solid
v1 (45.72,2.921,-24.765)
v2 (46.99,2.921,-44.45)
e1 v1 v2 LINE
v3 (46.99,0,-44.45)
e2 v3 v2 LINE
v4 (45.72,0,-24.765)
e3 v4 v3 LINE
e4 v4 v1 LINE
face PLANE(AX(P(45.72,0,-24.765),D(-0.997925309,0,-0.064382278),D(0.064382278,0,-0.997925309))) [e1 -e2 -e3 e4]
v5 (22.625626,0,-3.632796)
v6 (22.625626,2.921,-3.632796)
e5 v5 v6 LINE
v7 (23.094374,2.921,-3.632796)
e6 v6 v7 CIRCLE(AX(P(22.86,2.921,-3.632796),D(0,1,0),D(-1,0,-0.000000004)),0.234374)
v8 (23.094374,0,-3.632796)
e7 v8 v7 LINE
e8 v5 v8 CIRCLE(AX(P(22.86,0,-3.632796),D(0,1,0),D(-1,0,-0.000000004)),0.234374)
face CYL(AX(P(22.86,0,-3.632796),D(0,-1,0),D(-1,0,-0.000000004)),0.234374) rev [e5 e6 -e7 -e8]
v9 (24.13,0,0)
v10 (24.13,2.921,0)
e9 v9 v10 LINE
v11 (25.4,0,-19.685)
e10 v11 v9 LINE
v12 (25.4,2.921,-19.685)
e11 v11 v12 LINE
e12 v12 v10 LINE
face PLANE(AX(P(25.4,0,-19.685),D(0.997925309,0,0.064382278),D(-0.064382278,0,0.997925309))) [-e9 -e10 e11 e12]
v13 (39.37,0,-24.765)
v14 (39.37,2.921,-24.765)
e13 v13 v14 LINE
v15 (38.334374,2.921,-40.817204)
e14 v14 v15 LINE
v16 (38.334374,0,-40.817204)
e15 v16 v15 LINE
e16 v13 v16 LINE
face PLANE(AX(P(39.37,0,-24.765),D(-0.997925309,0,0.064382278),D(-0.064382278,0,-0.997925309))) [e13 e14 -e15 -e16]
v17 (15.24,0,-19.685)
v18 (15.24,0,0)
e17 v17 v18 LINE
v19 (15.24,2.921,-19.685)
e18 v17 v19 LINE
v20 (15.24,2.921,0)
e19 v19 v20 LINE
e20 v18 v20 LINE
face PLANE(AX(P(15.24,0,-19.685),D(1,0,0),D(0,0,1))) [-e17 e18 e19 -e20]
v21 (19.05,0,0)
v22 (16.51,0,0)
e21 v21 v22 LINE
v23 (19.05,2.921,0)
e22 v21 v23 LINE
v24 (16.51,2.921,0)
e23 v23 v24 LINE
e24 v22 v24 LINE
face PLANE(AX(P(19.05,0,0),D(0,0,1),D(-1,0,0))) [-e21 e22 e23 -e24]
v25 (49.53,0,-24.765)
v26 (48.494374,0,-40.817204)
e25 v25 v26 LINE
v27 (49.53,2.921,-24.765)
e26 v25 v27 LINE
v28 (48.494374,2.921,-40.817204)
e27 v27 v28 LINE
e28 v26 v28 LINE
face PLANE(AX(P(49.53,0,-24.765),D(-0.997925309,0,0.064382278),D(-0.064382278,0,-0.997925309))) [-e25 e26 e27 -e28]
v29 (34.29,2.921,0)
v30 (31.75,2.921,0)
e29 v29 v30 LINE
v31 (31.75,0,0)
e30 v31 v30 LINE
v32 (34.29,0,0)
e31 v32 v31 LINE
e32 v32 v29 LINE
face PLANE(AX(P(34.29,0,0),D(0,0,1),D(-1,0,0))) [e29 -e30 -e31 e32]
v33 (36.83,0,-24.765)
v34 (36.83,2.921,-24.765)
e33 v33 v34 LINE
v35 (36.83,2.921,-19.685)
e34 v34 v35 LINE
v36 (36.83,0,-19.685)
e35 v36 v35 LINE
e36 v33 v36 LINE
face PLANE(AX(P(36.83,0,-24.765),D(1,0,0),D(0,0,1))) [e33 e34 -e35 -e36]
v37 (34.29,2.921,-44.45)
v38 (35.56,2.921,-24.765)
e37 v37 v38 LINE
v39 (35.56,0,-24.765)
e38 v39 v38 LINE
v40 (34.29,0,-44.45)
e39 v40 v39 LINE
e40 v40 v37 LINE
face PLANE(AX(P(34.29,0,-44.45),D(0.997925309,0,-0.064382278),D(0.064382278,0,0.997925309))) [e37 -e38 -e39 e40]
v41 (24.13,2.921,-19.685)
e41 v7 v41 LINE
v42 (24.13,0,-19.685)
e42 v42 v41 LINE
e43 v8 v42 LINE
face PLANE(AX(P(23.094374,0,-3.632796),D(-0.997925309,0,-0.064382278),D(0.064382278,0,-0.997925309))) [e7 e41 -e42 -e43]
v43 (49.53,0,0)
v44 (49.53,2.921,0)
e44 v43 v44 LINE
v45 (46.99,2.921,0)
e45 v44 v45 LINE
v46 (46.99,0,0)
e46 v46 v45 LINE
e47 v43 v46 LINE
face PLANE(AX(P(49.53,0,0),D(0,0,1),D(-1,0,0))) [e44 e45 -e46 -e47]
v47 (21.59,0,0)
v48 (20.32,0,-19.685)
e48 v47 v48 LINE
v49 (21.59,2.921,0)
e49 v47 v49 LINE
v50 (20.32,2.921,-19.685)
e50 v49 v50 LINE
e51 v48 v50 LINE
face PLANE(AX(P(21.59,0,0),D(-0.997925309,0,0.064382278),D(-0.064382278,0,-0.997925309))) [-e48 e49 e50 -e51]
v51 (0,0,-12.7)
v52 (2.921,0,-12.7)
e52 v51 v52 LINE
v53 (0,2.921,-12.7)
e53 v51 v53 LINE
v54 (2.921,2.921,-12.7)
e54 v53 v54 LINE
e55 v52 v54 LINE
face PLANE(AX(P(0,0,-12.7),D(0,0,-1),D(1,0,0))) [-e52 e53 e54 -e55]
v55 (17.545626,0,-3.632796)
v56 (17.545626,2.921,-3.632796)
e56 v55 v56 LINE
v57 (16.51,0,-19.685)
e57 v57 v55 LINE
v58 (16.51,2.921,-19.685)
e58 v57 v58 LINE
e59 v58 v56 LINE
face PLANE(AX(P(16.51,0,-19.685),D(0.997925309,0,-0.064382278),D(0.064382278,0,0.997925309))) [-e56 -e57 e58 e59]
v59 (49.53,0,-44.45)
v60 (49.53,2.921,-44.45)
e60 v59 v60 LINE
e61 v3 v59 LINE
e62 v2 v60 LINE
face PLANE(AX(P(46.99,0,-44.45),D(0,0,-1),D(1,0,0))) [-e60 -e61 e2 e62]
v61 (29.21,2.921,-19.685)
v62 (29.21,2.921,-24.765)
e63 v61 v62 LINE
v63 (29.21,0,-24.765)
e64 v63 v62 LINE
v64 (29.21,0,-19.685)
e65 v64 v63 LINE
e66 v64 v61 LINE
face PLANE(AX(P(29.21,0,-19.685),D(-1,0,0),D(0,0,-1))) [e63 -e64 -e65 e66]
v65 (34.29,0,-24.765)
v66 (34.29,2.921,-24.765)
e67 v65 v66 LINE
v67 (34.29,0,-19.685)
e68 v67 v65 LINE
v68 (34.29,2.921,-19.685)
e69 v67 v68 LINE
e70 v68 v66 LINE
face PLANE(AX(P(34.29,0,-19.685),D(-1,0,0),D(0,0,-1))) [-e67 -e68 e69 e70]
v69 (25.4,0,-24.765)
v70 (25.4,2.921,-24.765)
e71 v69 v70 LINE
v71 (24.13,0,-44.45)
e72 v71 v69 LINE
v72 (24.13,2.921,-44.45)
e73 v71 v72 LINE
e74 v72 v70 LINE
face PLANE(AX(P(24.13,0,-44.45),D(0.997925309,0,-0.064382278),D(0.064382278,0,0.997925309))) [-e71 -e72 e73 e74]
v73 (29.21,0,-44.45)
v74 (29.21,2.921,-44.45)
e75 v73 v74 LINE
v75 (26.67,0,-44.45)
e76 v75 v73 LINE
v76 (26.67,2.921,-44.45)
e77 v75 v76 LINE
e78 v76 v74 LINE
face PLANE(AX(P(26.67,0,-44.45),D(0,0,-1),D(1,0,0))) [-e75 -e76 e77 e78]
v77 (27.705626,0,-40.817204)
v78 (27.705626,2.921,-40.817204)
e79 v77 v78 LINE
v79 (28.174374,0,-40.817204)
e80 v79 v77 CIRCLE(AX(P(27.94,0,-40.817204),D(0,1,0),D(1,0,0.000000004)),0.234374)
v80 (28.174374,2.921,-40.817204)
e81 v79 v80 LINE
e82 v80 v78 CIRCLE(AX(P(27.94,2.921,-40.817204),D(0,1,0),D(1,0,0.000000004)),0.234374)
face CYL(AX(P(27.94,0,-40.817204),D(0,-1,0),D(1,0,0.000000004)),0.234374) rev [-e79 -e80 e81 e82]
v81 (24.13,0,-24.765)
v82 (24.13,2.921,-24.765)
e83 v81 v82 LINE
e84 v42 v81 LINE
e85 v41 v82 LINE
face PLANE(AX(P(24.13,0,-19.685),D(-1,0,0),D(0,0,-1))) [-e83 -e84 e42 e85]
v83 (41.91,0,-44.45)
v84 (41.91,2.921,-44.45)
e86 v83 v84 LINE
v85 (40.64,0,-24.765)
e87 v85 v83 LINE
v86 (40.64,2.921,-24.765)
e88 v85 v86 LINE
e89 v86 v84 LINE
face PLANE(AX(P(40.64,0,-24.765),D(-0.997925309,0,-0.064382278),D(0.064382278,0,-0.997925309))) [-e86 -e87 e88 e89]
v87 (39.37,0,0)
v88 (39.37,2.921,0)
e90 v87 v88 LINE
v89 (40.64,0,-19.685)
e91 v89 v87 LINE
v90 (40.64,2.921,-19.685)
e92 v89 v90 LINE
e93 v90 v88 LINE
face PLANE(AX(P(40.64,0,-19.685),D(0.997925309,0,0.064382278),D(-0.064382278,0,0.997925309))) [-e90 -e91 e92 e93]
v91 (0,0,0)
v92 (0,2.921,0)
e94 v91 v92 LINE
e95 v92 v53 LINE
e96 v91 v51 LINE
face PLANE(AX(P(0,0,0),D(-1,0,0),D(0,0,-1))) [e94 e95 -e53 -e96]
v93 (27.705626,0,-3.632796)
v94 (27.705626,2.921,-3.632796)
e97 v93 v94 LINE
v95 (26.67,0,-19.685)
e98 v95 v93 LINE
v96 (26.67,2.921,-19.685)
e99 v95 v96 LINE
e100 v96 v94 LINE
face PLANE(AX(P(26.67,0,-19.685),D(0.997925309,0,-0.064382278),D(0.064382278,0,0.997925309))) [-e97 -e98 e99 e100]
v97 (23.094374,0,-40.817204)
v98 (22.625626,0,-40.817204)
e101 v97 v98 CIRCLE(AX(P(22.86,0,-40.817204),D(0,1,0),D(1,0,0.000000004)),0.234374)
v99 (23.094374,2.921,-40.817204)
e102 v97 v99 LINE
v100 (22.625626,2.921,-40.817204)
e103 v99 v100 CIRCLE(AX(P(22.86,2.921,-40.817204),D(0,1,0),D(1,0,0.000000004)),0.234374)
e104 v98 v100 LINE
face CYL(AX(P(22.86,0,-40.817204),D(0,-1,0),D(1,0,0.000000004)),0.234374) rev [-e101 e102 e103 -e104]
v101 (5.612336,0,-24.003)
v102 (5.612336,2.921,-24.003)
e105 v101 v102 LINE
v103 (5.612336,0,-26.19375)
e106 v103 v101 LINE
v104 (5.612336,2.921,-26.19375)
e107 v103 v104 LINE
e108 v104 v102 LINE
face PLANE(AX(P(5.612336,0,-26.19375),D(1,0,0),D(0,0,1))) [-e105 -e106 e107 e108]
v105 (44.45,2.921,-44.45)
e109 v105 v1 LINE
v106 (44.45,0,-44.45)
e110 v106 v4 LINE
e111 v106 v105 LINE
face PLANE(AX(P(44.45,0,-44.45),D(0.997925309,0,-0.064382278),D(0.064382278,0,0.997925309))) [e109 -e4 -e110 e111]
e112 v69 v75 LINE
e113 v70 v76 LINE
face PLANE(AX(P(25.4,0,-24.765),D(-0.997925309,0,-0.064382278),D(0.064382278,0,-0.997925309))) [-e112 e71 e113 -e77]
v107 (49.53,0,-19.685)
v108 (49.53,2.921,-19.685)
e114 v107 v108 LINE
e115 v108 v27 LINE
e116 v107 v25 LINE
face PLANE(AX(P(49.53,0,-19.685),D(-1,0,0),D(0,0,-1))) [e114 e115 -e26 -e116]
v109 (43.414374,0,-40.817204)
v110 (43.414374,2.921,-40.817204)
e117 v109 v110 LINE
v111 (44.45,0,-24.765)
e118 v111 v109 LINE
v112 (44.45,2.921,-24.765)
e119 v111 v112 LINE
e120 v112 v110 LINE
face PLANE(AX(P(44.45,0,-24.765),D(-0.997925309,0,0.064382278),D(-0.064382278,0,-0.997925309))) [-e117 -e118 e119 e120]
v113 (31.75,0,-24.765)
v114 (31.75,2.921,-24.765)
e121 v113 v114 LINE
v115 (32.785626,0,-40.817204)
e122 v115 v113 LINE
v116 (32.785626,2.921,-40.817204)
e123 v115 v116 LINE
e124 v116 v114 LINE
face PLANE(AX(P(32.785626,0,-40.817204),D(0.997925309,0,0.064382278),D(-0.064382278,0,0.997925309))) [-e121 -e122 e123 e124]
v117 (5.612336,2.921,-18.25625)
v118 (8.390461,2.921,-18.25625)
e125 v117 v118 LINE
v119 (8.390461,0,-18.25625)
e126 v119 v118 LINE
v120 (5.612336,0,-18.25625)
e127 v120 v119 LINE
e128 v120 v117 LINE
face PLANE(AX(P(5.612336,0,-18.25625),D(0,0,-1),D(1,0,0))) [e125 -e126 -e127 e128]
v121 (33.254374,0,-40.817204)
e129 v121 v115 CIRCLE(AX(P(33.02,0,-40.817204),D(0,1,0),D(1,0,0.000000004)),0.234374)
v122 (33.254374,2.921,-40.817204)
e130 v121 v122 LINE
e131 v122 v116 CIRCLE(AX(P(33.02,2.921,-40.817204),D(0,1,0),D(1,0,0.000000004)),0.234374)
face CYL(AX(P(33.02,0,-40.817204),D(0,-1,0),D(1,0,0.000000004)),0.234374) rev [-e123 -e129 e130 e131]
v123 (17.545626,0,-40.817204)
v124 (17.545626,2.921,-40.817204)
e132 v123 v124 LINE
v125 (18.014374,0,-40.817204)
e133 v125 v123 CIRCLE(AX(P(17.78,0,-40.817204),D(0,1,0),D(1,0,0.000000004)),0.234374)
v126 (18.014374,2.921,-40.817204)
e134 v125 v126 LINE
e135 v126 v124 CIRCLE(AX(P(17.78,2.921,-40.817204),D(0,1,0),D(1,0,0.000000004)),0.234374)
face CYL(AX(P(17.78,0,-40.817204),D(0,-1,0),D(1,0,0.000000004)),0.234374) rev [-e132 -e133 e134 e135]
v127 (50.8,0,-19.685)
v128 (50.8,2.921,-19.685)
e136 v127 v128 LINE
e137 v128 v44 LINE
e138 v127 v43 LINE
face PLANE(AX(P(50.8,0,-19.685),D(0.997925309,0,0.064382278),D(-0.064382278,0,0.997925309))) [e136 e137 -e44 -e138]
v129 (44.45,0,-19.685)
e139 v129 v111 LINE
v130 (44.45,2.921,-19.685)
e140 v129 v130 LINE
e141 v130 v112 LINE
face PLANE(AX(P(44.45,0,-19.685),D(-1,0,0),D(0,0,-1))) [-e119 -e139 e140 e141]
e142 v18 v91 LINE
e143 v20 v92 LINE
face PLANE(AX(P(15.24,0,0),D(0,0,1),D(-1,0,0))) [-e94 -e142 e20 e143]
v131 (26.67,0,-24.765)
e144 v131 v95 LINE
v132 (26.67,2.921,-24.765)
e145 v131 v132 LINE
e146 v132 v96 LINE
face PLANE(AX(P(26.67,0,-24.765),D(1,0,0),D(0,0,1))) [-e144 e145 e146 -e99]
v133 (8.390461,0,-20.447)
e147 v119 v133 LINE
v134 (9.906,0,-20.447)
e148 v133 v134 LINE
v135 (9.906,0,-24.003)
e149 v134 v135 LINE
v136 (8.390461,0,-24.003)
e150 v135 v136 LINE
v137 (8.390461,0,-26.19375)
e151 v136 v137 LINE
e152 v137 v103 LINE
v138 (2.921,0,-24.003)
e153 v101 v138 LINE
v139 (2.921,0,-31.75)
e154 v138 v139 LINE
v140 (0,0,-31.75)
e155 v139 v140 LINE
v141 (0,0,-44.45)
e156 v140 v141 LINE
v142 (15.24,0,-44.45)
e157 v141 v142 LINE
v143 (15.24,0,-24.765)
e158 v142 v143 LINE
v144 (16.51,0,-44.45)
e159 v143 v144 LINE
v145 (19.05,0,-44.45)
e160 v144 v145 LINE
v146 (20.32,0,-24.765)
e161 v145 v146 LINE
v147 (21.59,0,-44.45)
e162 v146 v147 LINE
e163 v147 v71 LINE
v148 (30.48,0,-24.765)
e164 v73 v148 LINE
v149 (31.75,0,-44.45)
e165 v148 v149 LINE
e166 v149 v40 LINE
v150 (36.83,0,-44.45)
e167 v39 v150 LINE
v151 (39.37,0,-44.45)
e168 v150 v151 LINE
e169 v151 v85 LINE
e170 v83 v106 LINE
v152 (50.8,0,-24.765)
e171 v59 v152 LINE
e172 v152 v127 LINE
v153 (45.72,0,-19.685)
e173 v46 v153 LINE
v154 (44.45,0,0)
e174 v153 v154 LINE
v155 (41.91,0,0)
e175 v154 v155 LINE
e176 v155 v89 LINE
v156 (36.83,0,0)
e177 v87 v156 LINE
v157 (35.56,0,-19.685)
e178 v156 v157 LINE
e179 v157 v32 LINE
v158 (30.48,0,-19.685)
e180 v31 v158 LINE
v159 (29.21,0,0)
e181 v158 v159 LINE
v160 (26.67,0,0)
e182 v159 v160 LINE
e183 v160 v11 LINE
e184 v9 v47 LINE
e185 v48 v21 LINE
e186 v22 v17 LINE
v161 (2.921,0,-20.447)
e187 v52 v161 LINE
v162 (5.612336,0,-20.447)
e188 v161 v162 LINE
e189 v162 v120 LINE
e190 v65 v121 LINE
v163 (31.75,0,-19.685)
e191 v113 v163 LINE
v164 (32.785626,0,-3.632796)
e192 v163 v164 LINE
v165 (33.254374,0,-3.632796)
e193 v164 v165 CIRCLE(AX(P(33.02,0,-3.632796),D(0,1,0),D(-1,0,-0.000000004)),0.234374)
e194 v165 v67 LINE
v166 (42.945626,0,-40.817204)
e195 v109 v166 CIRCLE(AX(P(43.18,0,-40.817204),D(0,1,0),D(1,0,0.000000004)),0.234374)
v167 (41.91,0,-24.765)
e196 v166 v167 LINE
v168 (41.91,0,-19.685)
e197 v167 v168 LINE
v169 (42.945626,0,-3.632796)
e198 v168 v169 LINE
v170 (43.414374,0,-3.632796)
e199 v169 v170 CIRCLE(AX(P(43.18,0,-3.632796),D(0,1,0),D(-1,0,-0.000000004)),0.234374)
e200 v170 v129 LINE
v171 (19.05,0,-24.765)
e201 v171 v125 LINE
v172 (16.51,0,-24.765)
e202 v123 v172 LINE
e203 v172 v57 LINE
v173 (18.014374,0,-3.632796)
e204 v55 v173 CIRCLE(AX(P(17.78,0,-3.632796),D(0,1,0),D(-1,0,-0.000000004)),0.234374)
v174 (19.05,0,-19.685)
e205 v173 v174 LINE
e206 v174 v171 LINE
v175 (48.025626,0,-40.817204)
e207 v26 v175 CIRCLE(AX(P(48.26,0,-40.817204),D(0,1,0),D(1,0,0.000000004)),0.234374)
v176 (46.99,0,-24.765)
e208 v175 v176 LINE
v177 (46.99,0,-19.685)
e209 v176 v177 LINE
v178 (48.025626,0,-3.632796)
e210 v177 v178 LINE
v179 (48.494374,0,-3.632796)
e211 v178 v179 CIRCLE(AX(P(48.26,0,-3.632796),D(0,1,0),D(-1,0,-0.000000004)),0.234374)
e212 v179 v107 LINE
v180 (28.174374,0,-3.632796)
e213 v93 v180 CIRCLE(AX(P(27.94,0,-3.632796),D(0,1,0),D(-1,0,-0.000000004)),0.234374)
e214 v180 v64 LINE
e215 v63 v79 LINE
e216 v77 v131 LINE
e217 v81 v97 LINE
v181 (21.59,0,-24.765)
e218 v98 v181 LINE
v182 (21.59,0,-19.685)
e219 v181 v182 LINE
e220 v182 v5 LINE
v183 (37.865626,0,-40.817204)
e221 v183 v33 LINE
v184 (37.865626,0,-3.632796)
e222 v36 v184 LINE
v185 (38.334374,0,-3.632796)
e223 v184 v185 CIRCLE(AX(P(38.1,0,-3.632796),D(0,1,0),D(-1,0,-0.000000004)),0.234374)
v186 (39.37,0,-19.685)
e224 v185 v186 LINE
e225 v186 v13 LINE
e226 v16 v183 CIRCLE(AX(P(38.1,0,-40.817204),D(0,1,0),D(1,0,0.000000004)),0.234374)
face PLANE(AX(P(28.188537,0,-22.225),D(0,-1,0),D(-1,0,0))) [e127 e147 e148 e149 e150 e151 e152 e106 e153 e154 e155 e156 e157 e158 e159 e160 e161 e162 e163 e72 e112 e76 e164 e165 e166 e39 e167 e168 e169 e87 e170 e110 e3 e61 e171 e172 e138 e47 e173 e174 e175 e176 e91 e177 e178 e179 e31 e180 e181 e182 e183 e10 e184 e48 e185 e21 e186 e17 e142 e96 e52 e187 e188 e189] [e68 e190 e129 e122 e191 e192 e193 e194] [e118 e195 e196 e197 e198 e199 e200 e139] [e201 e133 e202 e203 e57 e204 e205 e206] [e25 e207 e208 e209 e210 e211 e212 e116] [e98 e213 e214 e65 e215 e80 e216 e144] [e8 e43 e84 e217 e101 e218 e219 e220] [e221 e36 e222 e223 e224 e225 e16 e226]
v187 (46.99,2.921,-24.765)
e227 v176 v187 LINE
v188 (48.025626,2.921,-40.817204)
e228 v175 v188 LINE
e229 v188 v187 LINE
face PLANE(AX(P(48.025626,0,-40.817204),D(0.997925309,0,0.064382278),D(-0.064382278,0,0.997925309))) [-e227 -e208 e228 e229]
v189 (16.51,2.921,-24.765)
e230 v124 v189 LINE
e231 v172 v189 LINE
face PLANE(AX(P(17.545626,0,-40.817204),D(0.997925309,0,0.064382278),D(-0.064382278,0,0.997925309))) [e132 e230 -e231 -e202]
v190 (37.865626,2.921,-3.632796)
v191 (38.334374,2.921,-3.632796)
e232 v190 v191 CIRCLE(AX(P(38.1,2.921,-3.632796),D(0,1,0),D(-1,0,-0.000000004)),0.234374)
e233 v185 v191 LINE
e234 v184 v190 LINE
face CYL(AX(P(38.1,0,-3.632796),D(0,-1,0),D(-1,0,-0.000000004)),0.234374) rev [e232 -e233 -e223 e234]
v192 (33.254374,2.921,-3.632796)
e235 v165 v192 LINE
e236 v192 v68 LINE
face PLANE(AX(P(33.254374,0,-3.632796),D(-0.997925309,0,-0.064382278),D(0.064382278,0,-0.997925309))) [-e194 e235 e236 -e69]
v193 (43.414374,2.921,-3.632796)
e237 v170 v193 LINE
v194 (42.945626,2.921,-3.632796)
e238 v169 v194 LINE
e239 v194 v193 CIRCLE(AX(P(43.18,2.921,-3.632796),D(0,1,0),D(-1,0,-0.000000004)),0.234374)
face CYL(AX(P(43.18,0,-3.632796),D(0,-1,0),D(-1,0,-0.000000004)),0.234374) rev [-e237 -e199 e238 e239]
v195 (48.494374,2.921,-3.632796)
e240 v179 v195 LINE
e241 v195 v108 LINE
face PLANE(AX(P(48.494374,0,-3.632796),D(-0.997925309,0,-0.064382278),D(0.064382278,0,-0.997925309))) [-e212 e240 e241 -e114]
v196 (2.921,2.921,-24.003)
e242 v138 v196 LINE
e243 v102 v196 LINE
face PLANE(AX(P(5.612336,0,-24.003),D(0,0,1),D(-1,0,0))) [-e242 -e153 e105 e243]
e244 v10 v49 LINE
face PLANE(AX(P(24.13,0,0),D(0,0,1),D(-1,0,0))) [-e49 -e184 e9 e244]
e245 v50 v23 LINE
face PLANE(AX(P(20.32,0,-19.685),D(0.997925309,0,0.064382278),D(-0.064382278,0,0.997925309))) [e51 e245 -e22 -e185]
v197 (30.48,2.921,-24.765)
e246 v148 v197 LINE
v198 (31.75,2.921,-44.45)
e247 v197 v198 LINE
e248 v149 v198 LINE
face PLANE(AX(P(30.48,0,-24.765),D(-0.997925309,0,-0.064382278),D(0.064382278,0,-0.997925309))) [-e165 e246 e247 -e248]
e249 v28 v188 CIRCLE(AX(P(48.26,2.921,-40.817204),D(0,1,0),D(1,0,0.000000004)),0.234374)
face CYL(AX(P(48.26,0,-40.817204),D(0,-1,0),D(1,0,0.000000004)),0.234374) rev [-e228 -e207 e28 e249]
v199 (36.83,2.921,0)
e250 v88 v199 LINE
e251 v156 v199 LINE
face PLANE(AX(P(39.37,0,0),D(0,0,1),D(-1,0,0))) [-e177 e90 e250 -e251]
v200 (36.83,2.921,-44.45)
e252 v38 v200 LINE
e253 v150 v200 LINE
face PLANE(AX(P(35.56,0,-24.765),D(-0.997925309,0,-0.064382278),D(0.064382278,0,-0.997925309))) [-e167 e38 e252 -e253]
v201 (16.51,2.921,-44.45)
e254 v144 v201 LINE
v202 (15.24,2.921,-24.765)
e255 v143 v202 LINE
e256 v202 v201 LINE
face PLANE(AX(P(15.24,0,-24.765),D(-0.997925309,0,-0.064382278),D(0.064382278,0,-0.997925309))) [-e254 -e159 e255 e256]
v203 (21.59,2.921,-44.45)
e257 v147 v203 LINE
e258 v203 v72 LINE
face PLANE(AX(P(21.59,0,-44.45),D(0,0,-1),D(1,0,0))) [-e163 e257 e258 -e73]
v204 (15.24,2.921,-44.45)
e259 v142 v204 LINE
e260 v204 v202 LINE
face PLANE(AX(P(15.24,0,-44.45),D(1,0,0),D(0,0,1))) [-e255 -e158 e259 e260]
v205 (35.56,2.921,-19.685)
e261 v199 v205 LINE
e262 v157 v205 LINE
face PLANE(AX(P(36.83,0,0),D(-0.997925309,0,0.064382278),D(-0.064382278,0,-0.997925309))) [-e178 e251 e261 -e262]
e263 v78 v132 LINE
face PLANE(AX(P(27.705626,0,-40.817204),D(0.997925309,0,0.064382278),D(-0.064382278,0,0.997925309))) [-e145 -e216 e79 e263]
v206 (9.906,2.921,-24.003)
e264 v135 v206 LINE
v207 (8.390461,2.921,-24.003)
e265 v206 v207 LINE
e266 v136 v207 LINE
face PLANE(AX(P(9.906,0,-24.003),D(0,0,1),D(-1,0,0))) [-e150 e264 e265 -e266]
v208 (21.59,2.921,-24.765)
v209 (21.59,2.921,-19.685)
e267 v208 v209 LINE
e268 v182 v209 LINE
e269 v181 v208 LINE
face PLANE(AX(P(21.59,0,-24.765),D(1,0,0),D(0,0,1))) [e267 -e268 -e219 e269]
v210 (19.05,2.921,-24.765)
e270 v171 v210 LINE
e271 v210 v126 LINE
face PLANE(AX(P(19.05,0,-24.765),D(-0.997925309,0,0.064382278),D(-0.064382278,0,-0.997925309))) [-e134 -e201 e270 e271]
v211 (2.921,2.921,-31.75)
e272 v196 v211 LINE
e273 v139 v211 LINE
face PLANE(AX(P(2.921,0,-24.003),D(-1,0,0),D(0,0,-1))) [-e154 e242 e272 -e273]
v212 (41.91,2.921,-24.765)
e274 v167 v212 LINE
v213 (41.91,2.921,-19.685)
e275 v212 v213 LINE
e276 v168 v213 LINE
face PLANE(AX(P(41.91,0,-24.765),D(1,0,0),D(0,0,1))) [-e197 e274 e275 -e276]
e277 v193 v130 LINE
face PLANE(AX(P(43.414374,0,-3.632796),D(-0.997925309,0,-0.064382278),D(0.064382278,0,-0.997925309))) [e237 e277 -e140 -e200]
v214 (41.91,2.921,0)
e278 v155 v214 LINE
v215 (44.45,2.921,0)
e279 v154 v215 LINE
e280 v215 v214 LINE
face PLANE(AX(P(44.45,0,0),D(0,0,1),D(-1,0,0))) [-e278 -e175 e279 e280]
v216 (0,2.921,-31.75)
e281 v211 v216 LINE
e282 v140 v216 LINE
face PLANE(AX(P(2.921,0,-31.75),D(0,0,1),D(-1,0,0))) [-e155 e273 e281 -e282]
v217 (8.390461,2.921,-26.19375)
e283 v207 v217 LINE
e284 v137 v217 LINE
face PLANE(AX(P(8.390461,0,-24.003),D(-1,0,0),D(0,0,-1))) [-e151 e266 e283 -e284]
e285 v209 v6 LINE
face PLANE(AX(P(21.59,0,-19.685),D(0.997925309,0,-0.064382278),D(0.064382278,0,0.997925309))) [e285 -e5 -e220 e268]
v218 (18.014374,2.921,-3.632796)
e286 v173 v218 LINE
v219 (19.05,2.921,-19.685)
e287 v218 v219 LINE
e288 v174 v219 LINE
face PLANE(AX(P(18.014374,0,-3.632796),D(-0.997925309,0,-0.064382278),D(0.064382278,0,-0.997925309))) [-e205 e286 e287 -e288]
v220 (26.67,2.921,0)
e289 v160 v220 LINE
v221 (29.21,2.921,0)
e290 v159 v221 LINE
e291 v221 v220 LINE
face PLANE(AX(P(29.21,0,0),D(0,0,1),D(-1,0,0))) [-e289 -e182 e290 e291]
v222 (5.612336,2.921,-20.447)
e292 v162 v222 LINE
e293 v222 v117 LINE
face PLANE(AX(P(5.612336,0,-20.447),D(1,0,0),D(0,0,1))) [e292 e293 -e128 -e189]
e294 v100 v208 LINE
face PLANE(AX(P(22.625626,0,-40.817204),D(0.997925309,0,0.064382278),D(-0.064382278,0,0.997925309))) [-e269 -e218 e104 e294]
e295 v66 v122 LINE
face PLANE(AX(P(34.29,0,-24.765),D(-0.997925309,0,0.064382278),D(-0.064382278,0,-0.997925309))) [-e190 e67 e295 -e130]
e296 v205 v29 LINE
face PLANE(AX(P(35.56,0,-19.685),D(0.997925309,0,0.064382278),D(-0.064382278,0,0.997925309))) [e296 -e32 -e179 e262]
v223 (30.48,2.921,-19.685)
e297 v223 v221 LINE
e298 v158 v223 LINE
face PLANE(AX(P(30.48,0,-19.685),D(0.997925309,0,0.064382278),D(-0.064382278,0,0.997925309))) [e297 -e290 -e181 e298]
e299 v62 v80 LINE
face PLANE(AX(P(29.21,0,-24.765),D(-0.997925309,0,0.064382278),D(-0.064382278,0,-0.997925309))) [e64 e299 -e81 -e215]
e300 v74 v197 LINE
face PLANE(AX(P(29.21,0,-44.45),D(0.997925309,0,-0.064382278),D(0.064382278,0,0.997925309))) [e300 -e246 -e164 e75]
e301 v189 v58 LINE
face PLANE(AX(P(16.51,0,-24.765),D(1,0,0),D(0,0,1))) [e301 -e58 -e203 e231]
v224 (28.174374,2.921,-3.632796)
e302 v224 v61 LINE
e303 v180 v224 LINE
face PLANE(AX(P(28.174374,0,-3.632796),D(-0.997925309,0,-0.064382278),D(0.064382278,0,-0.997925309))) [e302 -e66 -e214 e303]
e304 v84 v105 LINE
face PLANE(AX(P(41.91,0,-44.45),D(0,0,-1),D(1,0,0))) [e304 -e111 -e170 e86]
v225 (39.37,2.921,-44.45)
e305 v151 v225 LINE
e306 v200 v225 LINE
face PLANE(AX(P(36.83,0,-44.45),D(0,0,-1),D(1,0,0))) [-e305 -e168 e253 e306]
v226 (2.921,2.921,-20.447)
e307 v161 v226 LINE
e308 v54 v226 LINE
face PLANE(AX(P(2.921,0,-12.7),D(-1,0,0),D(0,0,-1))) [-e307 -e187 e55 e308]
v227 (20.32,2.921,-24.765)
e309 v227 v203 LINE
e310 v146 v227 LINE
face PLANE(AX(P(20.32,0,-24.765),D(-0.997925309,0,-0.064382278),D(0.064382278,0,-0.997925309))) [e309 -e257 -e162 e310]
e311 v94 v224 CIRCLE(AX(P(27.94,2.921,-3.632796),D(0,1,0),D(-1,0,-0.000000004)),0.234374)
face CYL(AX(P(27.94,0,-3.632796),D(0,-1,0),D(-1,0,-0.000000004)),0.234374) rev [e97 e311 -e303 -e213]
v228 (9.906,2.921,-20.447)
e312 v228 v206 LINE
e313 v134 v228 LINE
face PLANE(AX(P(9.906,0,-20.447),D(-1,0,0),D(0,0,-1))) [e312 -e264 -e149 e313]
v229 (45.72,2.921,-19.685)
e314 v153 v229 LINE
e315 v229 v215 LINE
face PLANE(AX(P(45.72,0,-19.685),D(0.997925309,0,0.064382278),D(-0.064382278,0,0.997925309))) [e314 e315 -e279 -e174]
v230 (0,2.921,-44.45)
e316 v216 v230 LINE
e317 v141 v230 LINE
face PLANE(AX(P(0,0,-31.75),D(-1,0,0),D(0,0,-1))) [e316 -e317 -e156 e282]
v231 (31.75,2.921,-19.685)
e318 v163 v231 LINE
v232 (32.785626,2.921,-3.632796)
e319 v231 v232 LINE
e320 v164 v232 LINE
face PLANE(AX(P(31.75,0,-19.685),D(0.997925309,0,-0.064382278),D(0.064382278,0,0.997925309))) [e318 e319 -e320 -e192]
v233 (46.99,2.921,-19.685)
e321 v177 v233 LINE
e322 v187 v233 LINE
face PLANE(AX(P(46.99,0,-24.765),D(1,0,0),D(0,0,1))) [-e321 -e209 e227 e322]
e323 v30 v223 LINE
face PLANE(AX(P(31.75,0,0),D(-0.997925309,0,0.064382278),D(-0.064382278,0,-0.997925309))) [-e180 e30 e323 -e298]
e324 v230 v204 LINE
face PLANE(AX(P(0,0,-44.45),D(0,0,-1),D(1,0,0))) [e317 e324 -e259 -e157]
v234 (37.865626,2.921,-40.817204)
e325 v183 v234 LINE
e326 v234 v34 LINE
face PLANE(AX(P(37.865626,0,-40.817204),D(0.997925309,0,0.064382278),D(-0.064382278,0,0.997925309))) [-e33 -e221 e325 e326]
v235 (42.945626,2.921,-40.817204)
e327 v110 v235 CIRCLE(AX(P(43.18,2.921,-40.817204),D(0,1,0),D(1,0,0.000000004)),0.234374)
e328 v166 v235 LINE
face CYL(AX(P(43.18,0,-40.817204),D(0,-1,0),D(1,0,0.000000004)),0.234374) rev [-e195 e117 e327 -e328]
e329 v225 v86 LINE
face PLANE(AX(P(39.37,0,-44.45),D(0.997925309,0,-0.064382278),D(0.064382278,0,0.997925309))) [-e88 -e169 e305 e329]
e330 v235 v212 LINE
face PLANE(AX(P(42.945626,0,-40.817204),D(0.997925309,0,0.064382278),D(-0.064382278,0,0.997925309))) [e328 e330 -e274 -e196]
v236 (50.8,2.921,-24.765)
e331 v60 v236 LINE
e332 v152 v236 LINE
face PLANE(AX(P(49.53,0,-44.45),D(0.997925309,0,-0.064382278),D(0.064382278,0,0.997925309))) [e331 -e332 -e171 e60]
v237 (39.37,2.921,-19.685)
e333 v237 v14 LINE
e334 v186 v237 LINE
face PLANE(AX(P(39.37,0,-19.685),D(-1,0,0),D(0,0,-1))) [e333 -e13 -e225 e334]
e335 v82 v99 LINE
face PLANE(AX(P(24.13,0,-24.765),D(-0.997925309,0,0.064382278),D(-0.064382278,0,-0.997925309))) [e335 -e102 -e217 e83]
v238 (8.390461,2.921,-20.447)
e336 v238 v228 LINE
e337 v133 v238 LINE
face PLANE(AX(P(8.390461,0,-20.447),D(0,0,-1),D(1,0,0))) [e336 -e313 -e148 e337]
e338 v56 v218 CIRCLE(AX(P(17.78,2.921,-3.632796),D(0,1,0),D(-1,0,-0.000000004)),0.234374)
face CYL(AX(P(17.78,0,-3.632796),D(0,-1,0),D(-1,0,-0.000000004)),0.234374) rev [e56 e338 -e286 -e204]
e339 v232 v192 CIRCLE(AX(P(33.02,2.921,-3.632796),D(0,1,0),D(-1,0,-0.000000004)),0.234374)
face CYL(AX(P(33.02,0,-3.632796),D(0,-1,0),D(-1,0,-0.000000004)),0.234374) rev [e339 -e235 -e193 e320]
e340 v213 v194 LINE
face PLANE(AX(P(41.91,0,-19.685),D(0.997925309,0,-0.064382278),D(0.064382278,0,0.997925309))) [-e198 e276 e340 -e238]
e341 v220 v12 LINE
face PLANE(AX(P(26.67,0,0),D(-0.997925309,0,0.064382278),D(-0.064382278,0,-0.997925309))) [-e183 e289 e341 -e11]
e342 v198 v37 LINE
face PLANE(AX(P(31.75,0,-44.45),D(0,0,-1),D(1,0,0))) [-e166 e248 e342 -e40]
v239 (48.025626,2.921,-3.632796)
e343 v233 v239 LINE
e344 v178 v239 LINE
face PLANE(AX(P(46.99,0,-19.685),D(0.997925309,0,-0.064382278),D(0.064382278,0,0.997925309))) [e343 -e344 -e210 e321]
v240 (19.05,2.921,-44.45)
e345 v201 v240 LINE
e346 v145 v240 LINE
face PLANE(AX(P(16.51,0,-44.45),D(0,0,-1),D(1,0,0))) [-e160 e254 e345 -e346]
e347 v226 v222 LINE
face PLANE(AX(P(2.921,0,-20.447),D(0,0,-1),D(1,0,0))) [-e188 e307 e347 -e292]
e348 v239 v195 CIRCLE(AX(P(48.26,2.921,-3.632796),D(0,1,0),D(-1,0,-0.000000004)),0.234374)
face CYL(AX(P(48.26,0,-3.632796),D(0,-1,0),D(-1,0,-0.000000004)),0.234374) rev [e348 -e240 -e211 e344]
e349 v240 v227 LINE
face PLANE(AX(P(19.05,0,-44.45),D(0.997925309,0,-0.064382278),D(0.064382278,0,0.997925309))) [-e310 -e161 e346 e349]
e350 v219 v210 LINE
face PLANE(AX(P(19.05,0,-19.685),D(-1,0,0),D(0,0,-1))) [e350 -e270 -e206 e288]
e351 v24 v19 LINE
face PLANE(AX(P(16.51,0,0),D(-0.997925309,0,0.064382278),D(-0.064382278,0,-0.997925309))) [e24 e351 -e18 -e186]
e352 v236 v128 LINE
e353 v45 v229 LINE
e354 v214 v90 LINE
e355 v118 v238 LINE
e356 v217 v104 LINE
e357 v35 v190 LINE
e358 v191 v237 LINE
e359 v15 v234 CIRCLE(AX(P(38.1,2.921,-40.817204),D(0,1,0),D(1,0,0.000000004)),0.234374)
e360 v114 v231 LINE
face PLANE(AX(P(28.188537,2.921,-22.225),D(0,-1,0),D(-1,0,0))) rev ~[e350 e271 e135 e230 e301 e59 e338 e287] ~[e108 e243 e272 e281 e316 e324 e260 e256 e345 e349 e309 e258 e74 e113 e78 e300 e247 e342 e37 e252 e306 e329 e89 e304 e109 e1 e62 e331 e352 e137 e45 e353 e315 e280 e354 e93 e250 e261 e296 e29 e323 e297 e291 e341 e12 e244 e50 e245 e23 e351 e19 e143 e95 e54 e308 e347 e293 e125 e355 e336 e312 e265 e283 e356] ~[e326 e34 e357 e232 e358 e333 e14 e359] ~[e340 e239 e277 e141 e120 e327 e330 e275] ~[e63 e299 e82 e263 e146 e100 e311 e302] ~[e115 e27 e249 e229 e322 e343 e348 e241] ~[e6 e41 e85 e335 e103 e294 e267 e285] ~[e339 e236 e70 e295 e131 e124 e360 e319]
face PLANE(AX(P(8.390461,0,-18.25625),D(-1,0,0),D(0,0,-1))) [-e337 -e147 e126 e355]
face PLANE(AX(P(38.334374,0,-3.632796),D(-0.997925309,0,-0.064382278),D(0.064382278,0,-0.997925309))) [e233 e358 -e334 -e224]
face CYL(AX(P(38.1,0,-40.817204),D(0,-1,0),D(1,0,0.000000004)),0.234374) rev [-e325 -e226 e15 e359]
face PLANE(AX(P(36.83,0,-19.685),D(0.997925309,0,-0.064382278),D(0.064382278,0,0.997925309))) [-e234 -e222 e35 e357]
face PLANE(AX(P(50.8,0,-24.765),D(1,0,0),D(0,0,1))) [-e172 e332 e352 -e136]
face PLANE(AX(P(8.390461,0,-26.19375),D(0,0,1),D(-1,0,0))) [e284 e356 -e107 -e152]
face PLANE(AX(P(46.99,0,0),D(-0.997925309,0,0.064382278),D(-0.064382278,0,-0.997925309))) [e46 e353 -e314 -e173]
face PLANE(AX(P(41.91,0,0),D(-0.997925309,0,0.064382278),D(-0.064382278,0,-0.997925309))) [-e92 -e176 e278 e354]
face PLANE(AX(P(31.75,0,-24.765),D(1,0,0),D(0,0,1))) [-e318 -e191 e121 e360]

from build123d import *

# Parameters (mm, degrees)
BOSS_EXTRUDE1_DEPTH = 2.921


with BuildPart() as part:
    # Sketch2 → Boss-Extrude1 (new body)
    with BuildSketch(Plane(origin=(0, 0, 0), x_dir=(1, 0, 0), z_dir=(0, 1, 0))):
        Polygon((0, 12.7), (2.921, 12.7), (2.921, 20.447), (5.612336386, 20.447), (5.612336386, 18.25625), (8.390461386, 18.25625), (8.390461386, 20.447), (9.906, 20.447), (9.906, 24.003), (8.390461386, 24.003), (8.390461386, 26.19375), (5.612336386, 26.19375), (5.612336386, 24.003), (2.921, 24.003), (2.921, 31.75), (0, 31.75), (0, 44.45), (15.24, 44.45), (15.24, 24.765), (16.51, 44.45), (19.05, 44.45), (20.32, 24.765), (21.59, 44.45), (24.13, 44.45), (25.4, 24.765), (26.67, 44.45), (29.21, 44.45), (30.48, 24.765), (31.75, 44.45), (34.29, 44.45), (35.56, 24.765), (36.83, 44.45), (39.37, 44.45), (40.64, 24.765), (41.91, 44.45), (44.45, 44.45), (45.72, 24.765), (46.99, 44.45), (49.53, 44.45), (50.8, 24.765), (50.8, 19.685), (49.53, 0), (46.99, 0), (45.72, 19.685), (44.45, 0), (41.91, 0), (40.64, 19.685), (39.37, 0), (36.83, 0), (35.56, 19.685), (34.29, 0), (31.75, 0), (30.48, 19.685), (29.21, 0), (26.67, 0), (25.4, 19.685), (24.13, 0), (21.59, 0), (20.32, 19.685), (19.05, 0), (16.51, 0), (15.24, 19.685), (15.24, 0), (0, 0), align=None)
        with BuildLine():
            Line((48.025626044, 40.817203674), (46.99, 24.765))
            Line((46.99, 24.765), (46.99, 19.685))
            Line((46.99, 19.685), (48.025626044, 3.632796326))
            ThreePointArc((48.025626044, 3.632796326), (48.26, 3.398422369), (48.494373956, 3.632796326))
            Line((48.494373956, 3.632796326), (49.53, 19.685))
            Line((49.53, 19.685), (49.53, 24.765))
            Line((49.53, 24.765), (48.494373956, 40.817203674))
            ThreePointArc((48.494373956, 40.817203674), (48.26, 41.051577631), (48.025626044, 40.817203674))
        make_face(mode=Mode.SUBTRACT)
        with BuildLine():
            Line((42.945626044, 40.817203674), (41.91, 24.765))
            Line((41.91, 24.765), (41.91, 19.685))
            Line((41.91, 19.685), (42.945626044, 3.632796326))
            ThreePointArc((42.945626044, 3.632796326), (43.18, 3.398422369), (43.414373956, 3.632796326))
            Line((43.414373956, 3.632796326), (44.45, 19.685))
            Line((44.45, 19.685), (44.45, 24.765))
            Line((44.45, 24.765), (43.414373956, 40.817203674))
            ThreePointArc((43.414373956, 40.817203674), (43.18, 41.051577631), (42.945626044, 40.817203674))
        make_face(mode=Mode.SUBTRACT)
        with BuildLine():
            Line((37.865626044, 40.817203674), (36.83, 24.765))
            Line((36.83, 24.765), (36.83, 19.685))
            Line((36.83, 19.685), (37.865626044, 3.632796326))
            ThreePointArc((37.865626044, 3.632796326), (38.1, 3.398422369), (38.334373956, 3.632796326))
            Line((38.334373956, 3.632796326), (39.37, 19.685))
            Line((39.37, 19.685), (39.37, 24.765))
            Line((39.37, 24.765), (38.334373956, 40.817203674))
            ThreePointArc((38.334373956, 40.817203674), (38.1, 41.051577631), (37.865626044, 40.817203674))
        make_face(mode=Mode.SUBTRACT)
        with BuildLine():
            Line((32.785626044, 40.817203674), (31.75, 24.765))
            Line((31.75, 24.765), (31.75, 19.685))
            Line((31.75, 19.685), (32.785626044, 3.632796326))
            ThreePointArc((32.785626044, 3.632796326), (33.02, 3.398422369), (33.254373956, 3.632796326))
            Line((33.254373956, 3.632796326), (34.29, 19.685))
            Line((34.29, 19.685), (34.29, 24.765))
            Line((34.29, 24.765), (33.254373956, 40.817203674))
            ThreePointArc((33.254373956, 40.817203674), (33.02, 41.051577631), (32.785626044, 40.817203674))
        make_face(mode=Mode.SUBTRACT)
        with BuildLine():
            Line((27.705626044, 40.817203674), (26.67, 24.765))
            Line((26.67, 24.765), (26.67, 19.685))
            Line((26.67, 19.685), (27.705626044, 3.632796326))
            ThreePointArc((27.705626044, 3.632796326), (27.94, 3.398422369), (28.174373956, 3.632796326))
            Line((28.174373956, 3.632796326), (29.21, 19.685))
            Line((29.21, 19.685), (29.21, 24.765))
            Line((29.21, 24.765), (28.174373956, 40.817203674))
            ThreePointArc((28.174373956, 40.817203674), (27.94, 41.051577631), (27.705626044, 40.817203674))
        make_face(mode=Mode.SUBTRACT)
        with BuildLine():
            Line((22.625626044, 40.817203674), (21.59, 24.765))
            Line((21.59, 24.765), (21.59, 19.685))
            Line((21.59, 19.685), (22.625626044, 3.632796326))
            ThreePointArc((22.625626044, 3.632796326), (22.86, 3.398422369), (23.094373956, 3.632796326))
            Line((23.094373956, 3.632796326), (24.13, 19.685))
            Line((24.13, 19.685), (24.13, 24.765))
            Line((24.13, 24.765), (23.094373956, 40.817203674))
            ThreePointArc((23.094373956, 40.817203674), (22.86, 41.051577631), (22.625626044, 40.817203674))
        make_face(mode=Mode.SUBTRACT)
        with BuildLine():
            Line((17.545626044, 40.817203674), (16.51, 24.765))
            Line((16.51, 24.765), (16.51, 19.685))
            Line((16.51, 19.685), (17.545626044, 3.632796326))
            ThreePointArc((17.545626044, 3.632796326), (17.78, 3.398422369), (18.014373956, 3.632796326))
            Line((18.014373956, 3.632796326), (19.05, 19.685))
            Line((19.05, 19.685), (19.05, 24.765))
            Line((19.05, 24.765), (18.014373956, 40.817203674))
            ThreePointArc((18.014373956, 40.817203674), (17.78, 41.051577631), (17.545626044, 40.817203674))
        make_face(mode=Mode.SUBTRACT)
    extrude(amount=BOSS_EXTRUDE1_DEPTH)


solid = part.part
